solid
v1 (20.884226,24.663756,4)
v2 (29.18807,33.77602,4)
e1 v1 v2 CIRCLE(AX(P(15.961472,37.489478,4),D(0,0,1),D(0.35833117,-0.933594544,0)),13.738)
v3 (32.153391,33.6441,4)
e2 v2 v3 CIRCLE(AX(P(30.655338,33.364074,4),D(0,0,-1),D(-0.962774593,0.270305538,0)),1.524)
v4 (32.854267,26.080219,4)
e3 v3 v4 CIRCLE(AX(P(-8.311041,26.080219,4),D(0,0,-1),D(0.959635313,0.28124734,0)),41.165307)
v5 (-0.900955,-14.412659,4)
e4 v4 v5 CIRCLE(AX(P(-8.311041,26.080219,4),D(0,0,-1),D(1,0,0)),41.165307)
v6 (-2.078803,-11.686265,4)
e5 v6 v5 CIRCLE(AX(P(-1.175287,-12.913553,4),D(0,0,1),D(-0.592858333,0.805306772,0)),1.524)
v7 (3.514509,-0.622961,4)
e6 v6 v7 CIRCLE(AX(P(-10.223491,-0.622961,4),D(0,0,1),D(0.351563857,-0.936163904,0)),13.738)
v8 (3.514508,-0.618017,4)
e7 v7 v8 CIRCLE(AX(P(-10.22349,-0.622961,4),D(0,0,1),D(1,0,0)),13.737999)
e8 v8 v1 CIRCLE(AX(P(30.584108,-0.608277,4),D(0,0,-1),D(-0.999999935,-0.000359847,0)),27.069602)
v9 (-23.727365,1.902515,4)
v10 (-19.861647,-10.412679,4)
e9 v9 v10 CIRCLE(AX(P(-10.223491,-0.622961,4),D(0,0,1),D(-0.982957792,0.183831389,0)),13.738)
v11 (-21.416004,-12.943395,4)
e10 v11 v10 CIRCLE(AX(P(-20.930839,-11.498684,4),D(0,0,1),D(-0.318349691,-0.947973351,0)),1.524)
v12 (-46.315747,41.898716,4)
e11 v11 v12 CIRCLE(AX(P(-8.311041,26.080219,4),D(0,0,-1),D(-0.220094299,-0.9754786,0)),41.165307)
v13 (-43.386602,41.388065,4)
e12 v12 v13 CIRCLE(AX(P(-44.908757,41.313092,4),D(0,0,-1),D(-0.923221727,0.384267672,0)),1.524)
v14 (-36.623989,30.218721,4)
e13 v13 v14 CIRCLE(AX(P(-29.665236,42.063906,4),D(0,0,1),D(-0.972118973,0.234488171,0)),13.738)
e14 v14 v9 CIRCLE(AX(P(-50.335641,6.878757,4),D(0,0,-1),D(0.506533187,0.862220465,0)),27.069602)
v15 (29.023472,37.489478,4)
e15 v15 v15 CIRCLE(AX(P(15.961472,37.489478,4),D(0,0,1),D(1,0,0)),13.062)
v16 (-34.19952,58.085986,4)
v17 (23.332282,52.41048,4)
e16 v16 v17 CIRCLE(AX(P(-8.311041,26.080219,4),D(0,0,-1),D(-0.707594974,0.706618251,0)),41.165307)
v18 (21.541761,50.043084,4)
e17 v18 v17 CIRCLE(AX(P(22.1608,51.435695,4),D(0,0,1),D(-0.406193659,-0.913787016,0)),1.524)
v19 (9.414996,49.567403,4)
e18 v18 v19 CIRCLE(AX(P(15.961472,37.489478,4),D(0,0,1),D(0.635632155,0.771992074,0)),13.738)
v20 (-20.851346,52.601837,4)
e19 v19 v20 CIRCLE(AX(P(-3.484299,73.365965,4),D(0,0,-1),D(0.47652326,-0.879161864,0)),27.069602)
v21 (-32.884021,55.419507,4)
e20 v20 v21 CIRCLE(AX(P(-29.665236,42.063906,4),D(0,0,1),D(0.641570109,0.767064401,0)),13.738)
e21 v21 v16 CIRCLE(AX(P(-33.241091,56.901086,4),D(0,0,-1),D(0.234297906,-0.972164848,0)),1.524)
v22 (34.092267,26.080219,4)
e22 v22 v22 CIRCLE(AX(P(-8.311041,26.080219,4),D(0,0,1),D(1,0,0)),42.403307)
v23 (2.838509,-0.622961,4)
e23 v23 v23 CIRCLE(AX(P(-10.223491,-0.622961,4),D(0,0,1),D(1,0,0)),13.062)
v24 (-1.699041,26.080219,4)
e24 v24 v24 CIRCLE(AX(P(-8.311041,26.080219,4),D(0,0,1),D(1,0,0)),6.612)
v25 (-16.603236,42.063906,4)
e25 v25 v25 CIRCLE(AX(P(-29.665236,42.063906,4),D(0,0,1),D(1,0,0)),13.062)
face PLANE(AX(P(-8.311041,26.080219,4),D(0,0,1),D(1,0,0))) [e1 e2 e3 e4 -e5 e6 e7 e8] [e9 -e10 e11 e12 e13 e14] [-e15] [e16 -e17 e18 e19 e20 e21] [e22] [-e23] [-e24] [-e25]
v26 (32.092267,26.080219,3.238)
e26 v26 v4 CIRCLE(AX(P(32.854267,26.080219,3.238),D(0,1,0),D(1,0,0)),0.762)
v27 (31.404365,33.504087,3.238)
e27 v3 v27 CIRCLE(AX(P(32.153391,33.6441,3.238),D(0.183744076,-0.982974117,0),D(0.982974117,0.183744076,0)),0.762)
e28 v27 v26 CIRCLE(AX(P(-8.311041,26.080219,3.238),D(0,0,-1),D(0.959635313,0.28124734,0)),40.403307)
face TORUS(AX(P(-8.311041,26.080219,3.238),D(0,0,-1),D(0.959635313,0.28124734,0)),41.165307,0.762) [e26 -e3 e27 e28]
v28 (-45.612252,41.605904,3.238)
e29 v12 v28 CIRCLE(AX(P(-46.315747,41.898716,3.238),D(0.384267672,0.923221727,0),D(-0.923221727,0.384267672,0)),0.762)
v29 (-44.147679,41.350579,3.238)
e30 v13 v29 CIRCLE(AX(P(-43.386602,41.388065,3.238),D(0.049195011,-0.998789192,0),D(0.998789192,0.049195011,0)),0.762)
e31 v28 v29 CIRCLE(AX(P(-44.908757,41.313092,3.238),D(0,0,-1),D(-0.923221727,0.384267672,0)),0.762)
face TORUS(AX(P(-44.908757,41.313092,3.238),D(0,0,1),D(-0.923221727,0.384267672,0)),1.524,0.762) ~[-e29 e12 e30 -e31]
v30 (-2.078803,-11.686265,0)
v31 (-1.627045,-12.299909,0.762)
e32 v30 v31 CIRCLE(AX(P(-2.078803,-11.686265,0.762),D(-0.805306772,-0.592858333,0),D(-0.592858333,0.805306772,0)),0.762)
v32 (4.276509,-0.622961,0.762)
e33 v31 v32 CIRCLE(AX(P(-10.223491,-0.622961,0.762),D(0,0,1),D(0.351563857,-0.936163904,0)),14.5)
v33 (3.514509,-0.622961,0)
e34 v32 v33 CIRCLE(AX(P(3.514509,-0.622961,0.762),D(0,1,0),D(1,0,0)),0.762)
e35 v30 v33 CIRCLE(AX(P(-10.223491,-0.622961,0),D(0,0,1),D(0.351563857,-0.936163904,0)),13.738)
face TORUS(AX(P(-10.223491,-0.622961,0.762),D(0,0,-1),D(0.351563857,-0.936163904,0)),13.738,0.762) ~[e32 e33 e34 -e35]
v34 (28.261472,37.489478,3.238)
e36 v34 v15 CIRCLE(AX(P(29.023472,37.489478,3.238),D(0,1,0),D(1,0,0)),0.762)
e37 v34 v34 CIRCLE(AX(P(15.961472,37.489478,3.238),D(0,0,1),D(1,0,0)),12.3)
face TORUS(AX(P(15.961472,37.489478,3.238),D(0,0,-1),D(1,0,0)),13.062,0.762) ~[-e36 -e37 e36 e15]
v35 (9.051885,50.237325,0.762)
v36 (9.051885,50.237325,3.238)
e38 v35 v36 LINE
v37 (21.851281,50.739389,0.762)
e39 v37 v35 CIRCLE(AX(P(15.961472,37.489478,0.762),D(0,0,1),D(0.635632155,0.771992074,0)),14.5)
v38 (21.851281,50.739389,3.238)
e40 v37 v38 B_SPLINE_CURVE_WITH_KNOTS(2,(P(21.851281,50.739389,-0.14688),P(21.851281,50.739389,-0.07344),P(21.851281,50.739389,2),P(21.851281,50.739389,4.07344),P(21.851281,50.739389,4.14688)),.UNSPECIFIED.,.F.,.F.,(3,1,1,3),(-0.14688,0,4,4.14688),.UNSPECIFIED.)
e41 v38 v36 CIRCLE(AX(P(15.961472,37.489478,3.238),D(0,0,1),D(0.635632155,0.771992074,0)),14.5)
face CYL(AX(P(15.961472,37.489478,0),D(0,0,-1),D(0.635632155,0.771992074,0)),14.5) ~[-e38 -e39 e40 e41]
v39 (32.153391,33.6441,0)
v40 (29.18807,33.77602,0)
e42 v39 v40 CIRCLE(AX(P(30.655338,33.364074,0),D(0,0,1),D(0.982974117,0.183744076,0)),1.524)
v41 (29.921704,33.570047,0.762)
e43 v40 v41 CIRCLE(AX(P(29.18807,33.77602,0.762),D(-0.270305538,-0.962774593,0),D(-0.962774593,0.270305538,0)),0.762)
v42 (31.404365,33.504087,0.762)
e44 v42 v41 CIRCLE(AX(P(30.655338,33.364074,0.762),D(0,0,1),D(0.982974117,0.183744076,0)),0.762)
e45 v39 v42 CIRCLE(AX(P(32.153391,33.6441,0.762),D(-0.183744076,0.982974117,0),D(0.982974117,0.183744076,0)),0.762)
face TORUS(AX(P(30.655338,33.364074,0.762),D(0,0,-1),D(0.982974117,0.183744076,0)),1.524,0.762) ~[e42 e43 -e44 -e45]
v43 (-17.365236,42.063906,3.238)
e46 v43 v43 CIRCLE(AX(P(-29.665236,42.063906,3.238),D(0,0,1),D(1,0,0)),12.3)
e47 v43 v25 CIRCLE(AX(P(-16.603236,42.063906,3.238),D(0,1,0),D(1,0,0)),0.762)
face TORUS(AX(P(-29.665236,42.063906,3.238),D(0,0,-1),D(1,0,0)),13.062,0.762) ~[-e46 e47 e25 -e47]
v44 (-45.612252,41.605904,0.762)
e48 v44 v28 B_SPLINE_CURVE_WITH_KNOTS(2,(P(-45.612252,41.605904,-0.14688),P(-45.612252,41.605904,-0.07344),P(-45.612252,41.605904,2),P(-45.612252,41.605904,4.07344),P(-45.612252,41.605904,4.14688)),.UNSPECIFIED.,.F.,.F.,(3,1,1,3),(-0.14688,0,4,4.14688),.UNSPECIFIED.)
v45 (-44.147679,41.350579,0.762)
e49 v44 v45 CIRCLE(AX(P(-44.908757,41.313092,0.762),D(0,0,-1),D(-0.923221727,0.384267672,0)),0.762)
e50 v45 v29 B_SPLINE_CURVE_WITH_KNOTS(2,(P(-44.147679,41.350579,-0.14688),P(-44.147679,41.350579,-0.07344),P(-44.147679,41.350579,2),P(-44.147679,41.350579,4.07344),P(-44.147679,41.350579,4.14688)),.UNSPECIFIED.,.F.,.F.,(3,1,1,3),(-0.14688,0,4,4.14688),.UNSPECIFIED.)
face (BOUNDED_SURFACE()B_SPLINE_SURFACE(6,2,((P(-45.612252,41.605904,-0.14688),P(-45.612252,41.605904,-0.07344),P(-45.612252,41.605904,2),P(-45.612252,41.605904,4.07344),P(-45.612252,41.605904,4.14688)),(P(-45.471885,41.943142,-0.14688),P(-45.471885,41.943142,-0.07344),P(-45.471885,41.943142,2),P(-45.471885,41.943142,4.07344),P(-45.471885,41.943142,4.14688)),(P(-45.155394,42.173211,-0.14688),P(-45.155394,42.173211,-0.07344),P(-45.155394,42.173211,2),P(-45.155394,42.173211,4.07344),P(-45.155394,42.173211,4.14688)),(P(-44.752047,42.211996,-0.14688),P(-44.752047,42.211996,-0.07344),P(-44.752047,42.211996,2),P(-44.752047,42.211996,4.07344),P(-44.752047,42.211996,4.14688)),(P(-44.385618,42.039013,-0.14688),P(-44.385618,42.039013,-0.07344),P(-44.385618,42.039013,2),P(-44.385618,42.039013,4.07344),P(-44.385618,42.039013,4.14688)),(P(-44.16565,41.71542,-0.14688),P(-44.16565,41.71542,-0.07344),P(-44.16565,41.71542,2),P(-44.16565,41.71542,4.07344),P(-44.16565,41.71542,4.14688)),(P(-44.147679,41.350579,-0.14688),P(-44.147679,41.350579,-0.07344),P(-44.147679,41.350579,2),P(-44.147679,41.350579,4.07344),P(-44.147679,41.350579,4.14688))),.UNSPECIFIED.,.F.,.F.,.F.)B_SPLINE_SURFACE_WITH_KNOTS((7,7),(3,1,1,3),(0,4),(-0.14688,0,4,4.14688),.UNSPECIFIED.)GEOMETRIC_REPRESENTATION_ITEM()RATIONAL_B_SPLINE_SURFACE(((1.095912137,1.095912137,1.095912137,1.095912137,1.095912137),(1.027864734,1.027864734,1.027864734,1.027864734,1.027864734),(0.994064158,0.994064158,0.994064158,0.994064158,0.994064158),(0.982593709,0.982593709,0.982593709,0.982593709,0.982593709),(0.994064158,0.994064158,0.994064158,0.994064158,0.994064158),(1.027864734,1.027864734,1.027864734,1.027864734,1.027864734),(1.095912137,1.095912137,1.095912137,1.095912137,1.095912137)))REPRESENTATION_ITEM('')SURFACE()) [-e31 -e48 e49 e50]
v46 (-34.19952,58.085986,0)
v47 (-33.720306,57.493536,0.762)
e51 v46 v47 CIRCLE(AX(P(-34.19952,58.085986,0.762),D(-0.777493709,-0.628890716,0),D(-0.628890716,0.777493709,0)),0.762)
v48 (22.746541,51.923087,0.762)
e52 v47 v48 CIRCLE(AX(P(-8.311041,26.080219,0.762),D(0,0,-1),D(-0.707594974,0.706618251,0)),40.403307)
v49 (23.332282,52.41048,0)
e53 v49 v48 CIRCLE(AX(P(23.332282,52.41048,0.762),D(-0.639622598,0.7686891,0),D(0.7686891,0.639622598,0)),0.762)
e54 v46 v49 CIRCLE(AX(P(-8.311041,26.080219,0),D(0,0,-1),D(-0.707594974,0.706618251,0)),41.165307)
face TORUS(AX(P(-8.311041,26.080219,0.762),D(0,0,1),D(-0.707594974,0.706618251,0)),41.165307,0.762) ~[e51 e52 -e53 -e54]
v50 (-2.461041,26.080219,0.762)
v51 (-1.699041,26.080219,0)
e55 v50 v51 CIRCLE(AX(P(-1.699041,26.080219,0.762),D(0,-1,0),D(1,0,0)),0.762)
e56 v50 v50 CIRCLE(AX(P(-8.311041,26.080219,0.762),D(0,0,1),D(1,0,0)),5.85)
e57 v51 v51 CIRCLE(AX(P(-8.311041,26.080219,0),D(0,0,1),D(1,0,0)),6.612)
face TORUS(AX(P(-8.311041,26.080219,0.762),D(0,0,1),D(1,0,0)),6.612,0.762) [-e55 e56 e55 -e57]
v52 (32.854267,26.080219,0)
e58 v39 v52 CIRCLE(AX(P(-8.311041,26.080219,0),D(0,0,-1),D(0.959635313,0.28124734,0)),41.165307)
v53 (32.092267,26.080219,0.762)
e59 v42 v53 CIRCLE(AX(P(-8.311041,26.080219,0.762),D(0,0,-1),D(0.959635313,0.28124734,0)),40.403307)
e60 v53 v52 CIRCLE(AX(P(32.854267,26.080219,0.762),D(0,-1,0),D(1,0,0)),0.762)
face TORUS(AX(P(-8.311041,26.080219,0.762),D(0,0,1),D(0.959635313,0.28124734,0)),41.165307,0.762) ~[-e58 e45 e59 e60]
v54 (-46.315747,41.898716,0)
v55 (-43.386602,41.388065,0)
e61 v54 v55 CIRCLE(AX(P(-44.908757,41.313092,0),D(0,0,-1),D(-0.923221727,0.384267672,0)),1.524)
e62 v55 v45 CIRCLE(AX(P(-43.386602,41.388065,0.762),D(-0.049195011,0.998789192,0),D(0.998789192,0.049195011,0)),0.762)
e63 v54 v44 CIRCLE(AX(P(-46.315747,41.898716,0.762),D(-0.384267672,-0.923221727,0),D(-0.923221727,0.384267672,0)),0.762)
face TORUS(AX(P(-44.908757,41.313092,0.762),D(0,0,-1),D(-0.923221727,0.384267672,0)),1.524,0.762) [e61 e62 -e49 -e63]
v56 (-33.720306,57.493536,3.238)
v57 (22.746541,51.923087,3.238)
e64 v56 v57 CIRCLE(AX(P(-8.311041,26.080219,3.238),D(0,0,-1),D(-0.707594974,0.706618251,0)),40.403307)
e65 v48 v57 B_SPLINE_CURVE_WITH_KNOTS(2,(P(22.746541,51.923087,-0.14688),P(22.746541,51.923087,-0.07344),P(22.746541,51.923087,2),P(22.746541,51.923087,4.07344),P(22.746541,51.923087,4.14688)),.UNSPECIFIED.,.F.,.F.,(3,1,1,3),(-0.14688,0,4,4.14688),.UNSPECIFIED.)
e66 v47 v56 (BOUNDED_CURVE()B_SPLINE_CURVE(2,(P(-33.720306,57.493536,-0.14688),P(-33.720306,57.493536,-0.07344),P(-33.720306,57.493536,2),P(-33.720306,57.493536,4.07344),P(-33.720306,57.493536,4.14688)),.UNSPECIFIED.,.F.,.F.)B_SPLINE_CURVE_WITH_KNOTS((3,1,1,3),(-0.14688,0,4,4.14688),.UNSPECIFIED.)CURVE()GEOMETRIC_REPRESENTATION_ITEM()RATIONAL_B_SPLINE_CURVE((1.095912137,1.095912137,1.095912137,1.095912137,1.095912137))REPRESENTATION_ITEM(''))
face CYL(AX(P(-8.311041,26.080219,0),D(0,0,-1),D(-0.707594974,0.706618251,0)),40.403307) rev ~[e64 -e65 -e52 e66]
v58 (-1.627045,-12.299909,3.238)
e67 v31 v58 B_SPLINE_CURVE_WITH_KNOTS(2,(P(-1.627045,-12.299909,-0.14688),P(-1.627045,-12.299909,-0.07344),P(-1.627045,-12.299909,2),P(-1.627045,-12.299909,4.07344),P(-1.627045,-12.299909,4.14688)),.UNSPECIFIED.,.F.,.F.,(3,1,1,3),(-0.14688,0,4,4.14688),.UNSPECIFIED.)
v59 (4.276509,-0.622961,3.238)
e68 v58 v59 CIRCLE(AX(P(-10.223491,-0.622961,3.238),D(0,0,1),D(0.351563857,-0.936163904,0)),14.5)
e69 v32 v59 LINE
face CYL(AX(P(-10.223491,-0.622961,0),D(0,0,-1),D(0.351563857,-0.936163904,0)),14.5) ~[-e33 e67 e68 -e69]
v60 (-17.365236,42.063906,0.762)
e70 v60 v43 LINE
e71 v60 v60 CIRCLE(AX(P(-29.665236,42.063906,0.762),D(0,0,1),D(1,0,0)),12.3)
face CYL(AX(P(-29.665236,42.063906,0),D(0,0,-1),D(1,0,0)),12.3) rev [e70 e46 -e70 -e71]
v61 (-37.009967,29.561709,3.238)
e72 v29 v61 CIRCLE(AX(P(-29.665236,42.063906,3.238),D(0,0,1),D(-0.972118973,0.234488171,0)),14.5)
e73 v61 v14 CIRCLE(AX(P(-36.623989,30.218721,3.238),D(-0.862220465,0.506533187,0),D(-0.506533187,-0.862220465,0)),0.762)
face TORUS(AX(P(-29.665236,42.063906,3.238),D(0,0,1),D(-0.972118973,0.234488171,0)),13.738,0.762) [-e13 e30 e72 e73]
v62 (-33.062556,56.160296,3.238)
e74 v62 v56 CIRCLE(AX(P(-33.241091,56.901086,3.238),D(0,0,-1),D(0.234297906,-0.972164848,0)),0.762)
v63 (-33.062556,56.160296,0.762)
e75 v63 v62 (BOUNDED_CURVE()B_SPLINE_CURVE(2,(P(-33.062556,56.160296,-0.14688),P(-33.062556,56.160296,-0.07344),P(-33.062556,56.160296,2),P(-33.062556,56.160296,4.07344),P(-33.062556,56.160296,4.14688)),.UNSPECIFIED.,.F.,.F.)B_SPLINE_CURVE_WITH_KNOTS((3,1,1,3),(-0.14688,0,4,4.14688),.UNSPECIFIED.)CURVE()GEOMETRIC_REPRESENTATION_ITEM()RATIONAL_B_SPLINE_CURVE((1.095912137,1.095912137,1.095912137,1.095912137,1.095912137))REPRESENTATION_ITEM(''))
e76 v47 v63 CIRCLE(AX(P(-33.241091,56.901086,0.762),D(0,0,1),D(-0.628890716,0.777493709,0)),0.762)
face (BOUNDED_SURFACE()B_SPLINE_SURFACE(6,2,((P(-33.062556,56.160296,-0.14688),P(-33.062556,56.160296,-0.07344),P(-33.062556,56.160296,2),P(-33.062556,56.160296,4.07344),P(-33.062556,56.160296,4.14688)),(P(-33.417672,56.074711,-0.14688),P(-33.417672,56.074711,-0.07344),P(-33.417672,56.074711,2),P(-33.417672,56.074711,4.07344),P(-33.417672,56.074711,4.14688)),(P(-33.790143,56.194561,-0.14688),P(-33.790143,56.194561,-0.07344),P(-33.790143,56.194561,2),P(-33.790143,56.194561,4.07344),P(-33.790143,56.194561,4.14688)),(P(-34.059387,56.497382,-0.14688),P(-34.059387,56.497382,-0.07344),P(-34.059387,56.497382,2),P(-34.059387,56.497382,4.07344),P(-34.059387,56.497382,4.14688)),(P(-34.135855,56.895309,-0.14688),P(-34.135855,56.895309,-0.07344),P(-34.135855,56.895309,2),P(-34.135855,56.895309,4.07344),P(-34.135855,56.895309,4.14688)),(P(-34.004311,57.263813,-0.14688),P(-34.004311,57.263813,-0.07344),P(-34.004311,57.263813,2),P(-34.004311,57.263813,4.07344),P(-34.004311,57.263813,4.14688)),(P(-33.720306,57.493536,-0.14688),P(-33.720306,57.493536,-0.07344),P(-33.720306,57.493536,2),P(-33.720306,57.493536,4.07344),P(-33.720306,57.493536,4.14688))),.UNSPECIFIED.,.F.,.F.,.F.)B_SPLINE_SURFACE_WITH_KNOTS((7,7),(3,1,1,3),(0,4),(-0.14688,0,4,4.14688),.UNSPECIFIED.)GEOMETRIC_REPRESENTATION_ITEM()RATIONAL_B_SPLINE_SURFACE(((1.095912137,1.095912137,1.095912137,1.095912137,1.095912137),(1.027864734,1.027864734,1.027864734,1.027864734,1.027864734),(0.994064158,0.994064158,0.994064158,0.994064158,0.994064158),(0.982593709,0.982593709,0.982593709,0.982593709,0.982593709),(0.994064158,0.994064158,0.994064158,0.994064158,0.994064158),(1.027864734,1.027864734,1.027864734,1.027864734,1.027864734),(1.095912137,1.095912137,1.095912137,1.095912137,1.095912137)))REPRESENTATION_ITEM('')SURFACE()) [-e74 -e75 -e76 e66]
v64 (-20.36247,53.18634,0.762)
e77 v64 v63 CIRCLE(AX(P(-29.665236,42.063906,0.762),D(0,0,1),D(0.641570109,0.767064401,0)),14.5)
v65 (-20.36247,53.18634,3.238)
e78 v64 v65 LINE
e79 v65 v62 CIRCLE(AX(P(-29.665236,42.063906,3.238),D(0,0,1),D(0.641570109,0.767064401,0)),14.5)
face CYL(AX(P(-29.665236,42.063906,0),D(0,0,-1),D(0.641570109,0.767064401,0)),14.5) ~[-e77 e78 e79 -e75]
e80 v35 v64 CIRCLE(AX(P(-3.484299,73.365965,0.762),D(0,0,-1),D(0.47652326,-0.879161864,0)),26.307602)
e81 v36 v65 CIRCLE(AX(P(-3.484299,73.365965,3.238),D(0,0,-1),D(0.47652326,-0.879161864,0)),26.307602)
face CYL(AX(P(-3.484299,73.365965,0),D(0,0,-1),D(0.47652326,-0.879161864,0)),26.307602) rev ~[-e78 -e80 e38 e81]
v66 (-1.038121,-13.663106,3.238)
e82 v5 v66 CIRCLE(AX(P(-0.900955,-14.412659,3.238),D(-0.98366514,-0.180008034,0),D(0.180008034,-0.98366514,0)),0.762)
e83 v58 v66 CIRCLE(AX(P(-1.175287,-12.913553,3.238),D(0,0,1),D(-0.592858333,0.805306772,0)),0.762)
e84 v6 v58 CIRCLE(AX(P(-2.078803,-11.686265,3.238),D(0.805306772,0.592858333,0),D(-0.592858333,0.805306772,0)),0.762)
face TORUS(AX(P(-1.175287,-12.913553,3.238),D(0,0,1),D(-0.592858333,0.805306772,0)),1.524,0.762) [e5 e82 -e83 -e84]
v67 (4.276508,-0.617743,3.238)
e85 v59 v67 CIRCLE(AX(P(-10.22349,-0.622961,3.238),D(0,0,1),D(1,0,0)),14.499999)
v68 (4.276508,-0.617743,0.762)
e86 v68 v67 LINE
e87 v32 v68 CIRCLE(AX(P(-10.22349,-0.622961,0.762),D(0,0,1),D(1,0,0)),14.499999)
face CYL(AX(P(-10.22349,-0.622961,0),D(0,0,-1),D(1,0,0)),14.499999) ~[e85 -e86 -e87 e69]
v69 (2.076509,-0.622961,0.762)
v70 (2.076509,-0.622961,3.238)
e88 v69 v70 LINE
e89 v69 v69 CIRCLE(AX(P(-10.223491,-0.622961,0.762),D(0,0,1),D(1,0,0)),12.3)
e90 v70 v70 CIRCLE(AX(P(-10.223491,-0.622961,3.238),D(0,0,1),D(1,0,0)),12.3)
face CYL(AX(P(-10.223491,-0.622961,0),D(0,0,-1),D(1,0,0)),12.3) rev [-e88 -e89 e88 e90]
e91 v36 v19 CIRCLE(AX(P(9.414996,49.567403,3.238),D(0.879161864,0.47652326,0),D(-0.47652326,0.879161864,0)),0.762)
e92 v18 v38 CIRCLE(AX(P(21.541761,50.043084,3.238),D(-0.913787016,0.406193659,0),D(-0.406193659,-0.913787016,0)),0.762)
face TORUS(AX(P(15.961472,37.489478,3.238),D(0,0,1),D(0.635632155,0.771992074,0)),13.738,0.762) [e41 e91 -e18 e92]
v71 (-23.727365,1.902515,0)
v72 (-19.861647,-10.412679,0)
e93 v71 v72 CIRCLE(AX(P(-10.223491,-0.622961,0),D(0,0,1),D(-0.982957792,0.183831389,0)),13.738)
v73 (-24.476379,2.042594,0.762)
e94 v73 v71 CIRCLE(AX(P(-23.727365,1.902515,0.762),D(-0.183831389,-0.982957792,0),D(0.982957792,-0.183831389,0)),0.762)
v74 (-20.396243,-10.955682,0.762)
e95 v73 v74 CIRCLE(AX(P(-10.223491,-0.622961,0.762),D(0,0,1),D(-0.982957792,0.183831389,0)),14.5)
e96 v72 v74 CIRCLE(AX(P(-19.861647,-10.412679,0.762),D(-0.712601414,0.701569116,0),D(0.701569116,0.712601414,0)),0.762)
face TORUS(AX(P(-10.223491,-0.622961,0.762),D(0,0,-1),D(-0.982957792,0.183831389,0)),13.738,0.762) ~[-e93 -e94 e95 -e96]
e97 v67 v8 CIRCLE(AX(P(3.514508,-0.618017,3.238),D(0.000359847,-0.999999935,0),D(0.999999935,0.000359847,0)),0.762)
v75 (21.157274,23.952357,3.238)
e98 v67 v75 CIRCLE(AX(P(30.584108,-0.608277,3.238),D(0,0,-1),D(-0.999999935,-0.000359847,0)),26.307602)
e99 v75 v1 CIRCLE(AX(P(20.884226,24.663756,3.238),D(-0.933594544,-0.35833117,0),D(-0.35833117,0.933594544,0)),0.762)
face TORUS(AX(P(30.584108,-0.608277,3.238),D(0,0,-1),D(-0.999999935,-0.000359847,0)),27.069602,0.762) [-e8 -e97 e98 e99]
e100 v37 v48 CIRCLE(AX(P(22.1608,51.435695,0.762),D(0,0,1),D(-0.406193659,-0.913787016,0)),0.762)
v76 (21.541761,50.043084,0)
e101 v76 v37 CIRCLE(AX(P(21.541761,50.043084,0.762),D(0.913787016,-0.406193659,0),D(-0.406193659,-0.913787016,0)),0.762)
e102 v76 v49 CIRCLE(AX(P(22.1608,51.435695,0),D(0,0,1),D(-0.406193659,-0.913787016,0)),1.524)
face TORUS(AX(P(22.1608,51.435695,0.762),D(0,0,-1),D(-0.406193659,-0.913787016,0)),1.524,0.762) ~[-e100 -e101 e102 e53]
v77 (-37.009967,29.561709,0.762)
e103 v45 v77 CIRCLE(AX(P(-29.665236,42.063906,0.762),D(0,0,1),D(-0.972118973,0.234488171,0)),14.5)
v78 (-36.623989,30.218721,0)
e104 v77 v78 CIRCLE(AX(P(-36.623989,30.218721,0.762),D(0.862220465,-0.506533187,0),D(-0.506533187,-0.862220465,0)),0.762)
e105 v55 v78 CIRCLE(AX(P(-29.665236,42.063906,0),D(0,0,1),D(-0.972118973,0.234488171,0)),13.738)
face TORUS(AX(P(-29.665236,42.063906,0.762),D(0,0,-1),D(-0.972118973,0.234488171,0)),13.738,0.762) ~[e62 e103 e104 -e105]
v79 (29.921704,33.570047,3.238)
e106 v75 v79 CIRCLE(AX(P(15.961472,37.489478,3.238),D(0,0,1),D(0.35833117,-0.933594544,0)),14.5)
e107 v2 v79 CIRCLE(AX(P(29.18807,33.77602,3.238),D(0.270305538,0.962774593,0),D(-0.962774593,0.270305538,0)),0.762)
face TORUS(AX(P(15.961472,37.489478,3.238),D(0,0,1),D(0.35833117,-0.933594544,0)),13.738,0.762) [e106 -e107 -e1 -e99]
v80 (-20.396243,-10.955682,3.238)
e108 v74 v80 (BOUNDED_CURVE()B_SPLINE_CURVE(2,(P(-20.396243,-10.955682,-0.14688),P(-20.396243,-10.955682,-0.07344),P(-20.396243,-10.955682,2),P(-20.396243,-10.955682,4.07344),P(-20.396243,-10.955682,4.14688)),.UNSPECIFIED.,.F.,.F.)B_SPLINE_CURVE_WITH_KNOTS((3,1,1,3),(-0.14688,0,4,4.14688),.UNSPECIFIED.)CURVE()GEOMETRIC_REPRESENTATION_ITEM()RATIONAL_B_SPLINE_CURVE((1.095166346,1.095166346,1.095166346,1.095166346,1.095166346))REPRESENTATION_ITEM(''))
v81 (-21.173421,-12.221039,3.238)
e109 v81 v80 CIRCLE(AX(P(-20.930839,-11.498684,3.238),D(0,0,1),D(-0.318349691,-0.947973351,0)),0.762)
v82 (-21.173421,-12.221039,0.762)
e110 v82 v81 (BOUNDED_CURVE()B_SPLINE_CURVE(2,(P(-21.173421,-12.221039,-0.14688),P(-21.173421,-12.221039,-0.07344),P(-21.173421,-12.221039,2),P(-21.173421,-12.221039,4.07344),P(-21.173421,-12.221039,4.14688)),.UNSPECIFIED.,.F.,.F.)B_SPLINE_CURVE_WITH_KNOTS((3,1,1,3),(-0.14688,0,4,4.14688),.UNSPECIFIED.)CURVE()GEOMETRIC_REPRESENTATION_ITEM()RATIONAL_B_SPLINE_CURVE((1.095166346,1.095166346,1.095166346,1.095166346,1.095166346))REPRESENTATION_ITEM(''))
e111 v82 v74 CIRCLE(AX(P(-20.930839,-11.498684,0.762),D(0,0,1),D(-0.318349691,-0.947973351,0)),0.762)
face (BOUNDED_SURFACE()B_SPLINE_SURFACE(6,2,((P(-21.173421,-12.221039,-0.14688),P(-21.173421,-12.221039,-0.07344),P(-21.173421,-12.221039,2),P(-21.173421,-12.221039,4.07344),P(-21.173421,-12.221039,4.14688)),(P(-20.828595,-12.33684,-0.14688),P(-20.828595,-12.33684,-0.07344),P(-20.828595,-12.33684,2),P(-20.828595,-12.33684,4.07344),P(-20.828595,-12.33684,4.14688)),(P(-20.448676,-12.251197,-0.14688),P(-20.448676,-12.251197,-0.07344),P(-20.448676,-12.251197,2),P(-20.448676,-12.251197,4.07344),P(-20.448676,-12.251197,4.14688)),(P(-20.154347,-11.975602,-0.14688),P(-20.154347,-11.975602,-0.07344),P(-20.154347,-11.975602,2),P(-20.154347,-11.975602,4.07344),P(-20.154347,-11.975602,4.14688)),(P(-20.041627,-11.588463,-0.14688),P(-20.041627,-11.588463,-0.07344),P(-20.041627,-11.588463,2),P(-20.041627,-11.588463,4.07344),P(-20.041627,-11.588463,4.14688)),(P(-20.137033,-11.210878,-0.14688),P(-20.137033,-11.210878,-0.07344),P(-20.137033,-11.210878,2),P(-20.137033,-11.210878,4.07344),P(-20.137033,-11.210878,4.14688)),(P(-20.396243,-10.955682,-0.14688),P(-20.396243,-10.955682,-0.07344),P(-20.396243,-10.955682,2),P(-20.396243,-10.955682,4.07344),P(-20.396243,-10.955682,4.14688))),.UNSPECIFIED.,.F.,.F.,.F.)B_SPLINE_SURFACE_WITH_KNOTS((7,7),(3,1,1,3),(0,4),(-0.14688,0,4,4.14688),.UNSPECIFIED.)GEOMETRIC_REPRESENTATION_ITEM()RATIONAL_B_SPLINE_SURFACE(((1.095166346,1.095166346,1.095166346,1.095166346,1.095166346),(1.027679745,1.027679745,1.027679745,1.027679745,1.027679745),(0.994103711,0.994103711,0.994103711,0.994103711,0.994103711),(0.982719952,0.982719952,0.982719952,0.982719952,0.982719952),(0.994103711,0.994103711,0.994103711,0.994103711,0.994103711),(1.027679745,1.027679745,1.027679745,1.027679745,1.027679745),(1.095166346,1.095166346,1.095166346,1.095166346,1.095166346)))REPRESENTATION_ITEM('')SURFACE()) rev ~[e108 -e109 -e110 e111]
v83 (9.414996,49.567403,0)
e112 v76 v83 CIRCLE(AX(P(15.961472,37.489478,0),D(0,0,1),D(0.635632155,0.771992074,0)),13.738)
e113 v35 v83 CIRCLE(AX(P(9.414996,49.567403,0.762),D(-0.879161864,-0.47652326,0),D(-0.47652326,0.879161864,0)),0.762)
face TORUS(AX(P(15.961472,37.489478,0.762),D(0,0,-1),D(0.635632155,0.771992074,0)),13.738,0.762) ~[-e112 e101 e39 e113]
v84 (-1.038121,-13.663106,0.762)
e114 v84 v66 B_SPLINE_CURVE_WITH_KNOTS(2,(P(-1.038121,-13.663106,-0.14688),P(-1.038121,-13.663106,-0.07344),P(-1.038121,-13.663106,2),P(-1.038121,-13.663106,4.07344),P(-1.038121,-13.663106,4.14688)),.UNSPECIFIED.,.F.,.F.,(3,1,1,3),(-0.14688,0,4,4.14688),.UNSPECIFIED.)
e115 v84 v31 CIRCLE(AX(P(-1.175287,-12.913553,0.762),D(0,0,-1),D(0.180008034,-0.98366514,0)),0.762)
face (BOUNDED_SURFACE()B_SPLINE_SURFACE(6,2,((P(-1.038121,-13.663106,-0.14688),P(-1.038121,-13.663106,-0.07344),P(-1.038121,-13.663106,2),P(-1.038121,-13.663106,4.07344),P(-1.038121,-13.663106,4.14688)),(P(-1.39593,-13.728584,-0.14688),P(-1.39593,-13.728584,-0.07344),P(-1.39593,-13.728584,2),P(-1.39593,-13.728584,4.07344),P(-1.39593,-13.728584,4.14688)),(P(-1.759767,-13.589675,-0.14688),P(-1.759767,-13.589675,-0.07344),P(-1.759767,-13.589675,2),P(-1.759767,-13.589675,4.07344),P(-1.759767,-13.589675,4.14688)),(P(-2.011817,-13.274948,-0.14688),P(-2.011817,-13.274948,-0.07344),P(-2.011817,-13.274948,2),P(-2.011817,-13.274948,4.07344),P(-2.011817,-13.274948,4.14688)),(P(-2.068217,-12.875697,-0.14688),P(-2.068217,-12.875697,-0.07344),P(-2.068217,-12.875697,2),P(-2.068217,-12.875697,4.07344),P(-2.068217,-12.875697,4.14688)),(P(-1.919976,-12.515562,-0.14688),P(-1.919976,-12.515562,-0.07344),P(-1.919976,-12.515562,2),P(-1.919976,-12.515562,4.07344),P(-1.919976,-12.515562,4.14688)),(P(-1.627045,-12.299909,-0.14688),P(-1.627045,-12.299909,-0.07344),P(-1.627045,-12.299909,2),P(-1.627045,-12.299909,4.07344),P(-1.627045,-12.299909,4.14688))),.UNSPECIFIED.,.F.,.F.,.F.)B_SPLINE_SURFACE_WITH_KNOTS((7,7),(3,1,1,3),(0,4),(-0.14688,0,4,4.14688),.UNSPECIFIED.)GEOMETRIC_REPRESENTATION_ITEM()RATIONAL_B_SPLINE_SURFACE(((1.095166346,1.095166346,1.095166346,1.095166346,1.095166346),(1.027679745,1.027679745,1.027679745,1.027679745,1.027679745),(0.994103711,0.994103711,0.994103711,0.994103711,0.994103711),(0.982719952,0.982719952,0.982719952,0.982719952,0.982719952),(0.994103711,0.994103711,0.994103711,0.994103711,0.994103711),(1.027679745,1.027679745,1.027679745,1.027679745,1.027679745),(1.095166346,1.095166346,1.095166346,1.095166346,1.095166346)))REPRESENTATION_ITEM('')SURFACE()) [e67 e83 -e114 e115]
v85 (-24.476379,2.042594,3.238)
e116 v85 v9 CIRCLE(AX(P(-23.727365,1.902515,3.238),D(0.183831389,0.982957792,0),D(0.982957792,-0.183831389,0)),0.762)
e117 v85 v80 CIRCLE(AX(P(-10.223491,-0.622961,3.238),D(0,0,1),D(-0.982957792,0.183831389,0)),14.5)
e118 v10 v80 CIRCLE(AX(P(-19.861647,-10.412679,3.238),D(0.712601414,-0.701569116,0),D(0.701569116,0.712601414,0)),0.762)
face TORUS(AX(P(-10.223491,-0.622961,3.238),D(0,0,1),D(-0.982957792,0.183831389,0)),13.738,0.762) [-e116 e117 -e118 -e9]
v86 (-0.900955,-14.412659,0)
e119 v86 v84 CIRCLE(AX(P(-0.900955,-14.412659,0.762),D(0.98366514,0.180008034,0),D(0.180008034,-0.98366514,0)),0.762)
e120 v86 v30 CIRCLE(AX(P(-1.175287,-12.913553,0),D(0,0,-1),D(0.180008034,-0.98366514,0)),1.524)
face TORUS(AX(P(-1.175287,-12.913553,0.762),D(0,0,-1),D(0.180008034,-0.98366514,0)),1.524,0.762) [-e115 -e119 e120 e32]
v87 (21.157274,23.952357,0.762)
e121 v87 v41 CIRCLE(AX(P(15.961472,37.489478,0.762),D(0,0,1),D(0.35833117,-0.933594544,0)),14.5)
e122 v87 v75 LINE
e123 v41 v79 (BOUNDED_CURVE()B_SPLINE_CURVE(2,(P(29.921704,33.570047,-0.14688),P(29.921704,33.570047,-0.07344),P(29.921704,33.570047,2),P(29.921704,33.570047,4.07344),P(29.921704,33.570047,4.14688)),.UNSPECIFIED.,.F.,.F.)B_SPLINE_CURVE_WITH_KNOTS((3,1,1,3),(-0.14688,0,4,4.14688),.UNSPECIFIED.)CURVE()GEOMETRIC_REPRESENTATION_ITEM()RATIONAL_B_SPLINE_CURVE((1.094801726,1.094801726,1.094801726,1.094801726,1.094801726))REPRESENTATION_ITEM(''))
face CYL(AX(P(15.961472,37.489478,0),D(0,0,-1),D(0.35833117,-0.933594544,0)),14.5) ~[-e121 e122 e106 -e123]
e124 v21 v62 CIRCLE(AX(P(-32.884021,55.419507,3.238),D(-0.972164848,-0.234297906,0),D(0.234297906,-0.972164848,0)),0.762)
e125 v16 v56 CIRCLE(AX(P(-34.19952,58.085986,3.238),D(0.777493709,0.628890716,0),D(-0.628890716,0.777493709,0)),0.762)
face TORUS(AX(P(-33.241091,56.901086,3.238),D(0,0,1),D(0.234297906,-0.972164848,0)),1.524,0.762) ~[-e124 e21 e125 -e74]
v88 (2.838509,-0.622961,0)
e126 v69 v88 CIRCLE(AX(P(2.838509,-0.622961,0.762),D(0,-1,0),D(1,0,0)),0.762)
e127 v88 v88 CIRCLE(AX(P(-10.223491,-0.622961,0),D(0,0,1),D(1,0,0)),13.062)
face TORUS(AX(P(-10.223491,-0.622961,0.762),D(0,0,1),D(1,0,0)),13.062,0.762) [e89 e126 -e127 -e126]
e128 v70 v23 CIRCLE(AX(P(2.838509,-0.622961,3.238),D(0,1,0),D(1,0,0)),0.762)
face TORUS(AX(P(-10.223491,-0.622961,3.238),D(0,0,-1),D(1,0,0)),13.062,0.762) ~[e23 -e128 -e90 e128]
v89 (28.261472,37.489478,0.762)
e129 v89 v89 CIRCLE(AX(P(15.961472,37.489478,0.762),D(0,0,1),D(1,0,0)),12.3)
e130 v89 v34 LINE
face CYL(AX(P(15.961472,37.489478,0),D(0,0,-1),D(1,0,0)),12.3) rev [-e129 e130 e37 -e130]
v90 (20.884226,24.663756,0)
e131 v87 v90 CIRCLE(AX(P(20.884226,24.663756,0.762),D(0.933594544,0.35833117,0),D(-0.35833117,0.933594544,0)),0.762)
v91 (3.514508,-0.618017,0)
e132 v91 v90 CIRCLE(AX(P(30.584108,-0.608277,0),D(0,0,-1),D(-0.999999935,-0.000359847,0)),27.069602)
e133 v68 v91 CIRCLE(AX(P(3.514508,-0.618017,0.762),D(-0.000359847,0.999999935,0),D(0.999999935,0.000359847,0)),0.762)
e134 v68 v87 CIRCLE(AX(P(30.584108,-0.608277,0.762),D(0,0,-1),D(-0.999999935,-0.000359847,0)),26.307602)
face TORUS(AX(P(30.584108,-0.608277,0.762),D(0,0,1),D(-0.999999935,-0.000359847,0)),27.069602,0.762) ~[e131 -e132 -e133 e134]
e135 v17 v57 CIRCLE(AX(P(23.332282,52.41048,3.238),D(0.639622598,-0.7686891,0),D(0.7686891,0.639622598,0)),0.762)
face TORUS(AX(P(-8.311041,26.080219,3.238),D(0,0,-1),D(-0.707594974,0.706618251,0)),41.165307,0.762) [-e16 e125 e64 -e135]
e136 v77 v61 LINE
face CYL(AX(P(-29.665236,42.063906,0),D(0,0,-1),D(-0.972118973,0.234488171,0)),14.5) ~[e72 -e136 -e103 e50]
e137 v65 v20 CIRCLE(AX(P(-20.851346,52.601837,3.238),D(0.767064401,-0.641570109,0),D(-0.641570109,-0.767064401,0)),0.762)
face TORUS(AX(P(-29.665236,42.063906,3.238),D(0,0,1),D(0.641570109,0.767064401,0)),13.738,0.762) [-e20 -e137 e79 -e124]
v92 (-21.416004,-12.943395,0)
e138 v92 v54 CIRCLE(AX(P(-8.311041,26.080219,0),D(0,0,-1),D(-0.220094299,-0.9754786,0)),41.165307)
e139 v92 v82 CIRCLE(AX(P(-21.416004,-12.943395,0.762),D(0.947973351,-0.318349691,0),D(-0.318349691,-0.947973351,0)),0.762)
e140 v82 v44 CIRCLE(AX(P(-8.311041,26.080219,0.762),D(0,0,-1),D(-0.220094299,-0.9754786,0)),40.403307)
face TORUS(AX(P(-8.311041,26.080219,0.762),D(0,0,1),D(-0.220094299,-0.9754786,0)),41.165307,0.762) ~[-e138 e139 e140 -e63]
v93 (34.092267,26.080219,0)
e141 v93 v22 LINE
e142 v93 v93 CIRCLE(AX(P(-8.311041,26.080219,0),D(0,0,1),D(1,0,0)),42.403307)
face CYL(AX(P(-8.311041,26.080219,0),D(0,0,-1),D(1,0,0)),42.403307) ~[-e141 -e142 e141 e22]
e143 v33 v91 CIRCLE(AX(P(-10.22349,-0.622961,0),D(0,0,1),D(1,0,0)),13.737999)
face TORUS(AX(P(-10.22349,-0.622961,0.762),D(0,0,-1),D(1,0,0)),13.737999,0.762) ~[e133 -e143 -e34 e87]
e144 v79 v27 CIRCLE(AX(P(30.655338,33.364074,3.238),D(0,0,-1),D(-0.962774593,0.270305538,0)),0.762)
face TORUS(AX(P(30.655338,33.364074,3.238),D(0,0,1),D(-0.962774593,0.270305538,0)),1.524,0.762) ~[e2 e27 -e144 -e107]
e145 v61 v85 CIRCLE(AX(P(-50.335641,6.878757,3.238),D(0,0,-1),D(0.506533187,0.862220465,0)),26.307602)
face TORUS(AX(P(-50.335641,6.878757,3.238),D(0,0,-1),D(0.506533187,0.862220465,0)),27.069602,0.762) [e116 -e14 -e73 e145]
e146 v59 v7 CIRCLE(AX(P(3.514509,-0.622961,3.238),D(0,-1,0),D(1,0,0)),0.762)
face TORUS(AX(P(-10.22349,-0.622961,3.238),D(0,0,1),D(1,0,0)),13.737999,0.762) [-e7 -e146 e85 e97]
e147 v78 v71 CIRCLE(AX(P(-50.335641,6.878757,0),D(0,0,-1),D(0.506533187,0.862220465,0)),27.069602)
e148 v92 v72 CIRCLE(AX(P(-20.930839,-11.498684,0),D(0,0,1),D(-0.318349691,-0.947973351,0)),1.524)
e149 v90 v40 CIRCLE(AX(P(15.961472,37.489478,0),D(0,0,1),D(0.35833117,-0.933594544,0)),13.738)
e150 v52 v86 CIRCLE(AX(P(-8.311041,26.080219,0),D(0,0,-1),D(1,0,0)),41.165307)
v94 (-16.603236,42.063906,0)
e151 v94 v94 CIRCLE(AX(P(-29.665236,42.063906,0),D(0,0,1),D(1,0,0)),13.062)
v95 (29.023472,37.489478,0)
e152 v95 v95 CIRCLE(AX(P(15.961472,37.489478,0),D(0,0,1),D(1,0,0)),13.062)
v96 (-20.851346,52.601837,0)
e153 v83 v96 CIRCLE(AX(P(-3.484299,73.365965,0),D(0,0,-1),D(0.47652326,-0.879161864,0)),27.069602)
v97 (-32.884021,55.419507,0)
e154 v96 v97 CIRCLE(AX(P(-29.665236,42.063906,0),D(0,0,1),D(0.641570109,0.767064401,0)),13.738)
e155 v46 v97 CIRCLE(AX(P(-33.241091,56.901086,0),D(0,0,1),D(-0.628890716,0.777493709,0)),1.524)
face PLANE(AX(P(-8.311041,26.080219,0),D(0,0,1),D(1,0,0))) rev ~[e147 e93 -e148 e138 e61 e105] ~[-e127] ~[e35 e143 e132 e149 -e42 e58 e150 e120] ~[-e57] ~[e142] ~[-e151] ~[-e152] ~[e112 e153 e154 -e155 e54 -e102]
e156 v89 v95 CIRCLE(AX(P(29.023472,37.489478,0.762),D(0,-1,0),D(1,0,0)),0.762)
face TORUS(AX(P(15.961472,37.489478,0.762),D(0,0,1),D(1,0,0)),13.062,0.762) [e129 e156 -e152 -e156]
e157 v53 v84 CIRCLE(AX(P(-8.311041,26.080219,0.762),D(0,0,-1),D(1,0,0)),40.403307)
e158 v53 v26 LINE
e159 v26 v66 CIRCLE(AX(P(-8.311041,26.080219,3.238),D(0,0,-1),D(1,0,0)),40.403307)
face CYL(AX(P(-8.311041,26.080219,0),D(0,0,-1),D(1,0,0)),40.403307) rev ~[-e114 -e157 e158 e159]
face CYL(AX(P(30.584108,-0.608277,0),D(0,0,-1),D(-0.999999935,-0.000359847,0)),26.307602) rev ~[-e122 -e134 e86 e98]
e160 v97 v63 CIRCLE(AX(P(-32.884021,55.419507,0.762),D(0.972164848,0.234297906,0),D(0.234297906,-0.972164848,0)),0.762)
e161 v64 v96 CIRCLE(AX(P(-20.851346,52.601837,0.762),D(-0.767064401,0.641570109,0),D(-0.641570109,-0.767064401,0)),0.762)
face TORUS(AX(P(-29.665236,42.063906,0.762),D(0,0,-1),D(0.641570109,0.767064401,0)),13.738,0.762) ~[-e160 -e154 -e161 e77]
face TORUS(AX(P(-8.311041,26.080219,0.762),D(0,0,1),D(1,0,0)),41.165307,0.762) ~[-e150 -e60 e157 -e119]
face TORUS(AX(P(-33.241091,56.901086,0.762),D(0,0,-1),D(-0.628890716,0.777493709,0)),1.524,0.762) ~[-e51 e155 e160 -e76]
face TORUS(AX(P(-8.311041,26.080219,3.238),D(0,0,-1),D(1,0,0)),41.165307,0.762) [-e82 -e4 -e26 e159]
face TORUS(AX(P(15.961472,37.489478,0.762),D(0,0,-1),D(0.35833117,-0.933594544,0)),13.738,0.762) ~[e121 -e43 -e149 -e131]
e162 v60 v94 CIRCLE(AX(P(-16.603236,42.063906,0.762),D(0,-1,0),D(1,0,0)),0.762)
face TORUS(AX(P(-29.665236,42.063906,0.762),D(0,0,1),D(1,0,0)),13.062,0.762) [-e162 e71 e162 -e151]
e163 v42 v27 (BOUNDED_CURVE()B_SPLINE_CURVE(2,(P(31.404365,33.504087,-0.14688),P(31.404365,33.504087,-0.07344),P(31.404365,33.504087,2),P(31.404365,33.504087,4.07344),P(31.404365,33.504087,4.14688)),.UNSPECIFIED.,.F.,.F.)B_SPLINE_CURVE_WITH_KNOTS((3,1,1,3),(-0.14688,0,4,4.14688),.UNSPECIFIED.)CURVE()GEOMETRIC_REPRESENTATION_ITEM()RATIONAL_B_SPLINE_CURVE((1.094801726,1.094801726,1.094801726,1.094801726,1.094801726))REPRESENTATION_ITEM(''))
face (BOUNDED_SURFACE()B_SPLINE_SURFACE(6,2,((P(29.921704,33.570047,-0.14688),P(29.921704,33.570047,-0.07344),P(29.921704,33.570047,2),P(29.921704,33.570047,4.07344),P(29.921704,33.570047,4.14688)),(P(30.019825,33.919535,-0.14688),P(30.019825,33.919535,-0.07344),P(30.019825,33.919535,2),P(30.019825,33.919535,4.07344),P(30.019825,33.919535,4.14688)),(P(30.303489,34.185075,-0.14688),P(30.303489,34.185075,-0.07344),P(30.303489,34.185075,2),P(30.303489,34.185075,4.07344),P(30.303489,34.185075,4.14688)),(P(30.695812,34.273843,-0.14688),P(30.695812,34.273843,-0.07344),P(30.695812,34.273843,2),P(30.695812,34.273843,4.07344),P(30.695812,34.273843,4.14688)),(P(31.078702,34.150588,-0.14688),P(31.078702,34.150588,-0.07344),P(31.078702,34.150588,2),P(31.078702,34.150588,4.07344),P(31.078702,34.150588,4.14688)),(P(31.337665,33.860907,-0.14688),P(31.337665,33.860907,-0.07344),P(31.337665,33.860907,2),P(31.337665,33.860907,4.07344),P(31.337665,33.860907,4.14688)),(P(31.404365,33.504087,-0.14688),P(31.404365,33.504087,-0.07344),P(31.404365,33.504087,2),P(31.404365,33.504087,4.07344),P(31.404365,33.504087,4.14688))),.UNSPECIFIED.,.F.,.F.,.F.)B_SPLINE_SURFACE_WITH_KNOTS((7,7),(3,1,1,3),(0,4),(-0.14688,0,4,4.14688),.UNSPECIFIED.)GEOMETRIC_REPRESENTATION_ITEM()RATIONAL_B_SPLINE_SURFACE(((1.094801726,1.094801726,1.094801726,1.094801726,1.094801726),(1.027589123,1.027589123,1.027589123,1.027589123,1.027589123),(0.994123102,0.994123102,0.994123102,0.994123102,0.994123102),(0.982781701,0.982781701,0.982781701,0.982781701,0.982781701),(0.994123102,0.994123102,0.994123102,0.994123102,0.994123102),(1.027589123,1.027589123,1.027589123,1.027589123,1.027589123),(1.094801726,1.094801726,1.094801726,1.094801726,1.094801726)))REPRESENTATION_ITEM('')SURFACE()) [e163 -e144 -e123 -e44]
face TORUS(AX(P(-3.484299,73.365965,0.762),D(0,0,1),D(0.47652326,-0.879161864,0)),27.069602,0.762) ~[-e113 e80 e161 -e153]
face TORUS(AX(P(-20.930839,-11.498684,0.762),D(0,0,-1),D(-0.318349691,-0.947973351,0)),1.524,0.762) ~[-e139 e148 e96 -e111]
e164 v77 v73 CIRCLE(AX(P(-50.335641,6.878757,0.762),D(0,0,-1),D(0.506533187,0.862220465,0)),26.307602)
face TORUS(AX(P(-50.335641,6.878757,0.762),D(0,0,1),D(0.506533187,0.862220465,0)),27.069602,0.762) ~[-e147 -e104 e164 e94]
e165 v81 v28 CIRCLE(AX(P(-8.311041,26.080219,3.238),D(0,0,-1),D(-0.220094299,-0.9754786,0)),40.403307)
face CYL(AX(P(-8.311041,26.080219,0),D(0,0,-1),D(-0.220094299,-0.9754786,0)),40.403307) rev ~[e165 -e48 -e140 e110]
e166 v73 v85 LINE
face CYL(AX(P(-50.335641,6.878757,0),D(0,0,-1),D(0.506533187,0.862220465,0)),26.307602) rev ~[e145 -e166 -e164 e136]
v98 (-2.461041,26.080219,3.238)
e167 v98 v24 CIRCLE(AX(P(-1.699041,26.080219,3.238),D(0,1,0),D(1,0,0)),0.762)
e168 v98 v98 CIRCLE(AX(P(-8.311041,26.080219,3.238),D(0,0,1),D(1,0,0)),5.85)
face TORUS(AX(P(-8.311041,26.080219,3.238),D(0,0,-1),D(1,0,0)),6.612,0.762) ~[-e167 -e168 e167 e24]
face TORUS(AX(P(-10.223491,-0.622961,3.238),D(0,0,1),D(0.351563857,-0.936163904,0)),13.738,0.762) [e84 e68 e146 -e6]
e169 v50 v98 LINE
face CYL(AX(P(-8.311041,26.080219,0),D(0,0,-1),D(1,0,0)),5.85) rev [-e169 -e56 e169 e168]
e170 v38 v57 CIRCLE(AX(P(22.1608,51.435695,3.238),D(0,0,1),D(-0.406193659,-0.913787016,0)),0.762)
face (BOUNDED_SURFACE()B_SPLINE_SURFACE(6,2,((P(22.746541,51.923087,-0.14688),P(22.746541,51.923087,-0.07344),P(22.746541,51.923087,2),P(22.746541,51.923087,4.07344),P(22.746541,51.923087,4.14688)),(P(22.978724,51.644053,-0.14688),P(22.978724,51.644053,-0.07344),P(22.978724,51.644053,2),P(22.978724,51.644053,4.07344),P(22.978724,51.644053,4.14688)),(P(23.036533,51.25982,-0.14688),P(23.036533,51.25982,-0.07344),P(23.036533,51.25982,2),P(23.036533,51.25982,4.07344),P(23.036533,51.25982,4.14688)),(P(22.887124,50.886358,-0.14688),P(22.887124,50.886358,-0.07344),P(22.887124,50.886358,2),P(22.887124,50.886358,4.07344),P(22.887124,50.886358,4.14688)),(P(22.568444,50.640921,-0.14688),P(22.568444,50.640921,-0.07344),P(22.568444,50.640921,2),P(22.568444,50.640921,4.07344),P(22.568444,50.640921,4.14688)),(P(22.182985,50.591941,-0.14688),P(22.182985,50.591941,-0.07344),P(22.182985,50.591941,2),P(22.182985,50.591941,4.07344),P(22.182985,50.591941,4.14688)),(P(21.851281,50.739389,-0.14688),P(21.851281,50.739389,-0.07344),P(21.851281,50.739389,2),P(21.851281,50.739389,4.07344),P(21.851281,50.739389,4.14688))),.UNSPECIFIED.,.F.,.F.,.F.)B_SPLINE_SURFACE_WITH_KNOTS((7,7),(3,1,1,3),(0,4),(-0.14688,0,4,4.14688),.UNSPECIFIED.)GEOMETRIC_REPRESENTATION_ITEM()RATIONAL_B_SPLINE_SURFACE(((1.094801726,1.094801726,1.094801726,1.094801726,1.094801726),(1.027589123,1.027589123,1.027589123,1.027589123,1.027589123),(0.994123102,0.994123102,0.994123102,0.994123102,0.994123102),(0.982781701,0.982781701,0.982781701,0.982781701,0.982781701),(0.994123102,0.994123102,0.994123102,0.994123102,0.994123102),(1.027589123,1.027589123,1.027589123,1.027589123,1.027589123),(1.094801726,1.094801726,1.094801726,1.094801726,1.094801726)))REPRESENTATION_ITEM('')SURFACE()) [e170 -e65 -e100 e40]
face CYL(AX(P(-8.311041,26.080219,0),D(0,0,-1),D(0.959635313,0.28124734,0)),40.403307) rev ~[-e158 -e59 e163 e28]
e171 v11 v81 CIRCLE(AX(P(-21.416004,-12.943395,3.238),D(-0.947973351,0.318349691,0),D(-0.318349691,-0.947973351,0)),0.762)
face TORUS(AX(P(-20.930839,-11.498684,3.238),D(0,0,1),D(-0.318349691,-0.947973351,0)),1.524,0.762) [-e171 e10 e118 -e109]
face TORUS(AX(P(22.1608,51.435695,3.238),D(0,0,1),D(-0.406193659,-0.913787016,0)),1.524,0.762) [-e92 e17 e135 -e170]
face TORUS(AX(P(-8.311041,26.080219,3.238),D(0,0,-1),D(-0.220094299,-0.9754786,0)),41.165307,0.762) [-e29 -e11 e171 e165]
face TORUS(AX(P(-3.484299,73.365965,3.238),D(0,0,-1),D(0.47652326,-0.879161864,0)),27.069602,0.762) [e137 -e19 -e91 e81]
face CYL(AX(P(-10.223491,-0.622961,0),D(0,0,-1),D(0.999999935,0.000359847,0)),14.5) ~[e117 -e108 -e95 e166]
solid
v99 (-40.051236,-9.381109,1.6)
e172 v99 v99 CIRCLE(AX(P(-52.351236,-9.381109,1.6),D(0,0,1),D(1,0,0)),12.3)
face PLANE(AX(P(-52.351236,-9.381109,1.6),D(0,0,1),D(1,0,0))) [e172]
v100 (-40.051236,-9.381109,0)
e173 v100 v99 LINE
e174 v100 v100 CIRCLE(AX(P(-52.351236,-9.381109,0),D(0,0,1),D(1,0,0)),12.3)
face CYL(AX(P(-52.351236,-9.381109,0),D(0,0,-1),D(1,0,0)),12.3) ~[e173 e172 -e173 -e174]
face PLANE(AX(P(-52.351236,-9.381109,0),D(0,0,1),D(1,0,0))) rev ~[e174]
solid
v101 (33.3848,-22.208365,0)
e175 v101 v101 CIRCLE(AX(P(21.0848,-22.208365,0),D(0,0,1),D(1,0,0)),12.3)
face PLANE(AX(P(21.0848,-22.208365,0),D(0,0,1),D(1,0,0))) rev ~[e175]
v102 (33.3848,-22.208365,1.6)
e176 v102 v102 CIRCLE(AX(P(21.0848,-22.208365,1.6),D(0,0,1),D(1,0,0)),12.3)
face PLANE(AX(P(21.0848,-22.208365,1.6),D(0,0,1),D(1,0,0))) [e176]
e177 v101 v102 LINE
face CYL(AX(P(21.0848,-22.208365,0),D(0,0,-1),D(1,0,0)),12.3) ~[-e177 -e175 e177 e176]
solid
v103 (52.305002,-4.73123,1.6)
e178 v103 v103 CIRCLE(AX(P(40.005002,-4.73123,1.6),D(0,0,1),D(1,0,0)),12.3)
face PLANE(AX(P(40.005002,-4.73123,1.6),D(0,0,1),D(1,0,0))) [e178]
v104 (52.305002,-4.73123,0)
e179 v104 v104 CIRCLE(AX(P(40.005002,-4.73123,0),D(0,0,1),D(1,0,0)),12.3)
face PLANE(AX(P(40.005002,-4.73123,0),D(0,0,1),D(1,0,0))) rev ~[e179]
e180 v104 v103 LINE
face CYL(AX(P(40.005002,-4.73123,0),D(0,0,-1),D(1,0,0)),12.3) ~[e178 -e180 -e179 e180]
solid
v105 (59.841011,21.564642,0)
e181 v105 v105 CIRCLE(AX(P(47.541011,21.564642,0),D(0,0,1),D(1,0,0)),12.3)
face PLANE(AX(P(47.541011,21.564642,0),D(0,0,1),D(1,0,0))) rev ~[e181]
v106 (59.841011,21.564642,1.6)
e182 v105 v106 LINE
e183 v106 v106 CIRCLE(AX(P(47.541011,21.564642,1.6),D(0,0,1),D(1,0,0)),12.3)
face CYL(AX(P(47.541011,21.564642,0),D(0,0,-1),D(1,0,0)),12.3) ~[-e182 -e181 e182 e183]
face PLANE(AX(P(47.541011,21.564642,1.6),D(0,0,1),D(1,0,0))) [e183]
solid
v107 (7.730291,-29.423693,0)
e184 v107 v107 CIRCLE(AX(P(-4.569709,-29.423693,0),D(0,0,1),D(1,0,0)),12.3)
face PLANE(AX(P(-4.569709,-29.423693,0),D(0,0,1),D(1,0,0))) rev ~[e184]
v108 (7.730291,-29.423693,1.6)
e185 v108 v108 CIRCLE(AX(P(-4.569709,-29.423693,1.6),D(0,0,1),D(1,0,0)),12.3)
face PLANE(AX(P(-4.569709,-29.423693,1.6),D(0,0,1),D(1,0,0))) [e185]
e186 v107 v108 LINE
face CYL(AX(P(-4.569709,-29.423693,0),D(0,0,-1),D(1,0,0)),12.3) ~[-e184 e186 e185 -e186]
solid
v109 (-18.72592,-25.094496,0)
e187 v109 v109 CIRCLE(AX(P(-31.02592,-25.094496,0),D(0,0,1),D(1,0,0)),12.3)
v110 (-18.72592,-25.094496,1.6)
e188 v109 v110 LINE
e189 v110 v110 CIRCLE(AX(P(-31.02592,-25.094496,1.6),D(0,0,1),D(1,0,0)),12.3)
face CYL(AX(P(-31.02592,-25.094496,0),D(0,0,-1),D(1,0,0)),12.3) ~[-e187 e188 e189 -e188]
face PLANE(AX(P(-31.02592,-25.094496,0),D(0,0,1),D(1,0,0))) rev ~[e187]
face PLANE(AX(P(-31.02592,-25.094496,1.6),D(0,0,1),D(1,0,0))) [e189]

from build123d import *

# Parameters (mm, degrees)
F0_R     = 42.4033072662
F0_R_2   = 5.85
F0_R_3   = 12.3
F1_DEPTH = 4
F2_R     = 0.762
F3_R     = 12.3
F4_DEPTH = 1.6


with BuildPart() as f1:
    # F0 (on Top) → F1 (new body)
    with BuildSketch(Plane.XY):
        with Locations((-8.3110406995, 26.0802190751)):
            Circle(F0_R)
        with BuildLine():
            ThreePointArc((32.0922665668, 26.0802190751), (21.3631980985, -1.3399703811), (-5.1258148571, -14.1973376331))
            ThreePointArc((-5.1258148571, -14.1973376331), (-11.2593104887, -15.085916383), (-17.2035782861, -13.3323425433))
            ThreePointArc((-17.2035782861, -13.3323425433), (-45.1324396721, 9.4485680521), (-43.7609612929, 45.4639846528))
            ThreePointArc((-43.7609612929, 45.4639846528), (-41.2735701298, 50.7527831403), (-36.9002178526, 54.6299333951))
            ThreePointArc((-36.9002178526, 54.6299333951), (-4.4583881721, 66.2994222814), (25.1781387293, 48.6833626449))
            ThreePointArc((25.1781387293, 48.6833626449), (29.074284162, 43.6785138124), (30.4614724748, 37.4894775663))
            ThreePointArc((30.4614724748, 37.4894775663), (30.4614542842, 37.4665096366), (30.4613997126, 37.4435417644))
            ThreePointArc((30.4613997126, 37.4435417644), (31.6824716587, 31.8200977593), (32.0922665668, 26.0802190751))
        make_face(mode=Mode.SUBTRACT)
        with BuildLine():
            ThreePointArc((-24.4763787641, 2.0425941068), (-8.8875960681, 13.8153693896), (4.2765082786, -0.6177432531))
            ThreePointArc((4.2765082786, -0.6177432531), (8.9009375112, 14.2890390154), (21.1572744451, 23.9523566802))
            ThreePointArc((21.1572744451, 23.9523566802), (2.7910833564, 31.4239313857), (9.0518852052, 50.237324591))
            ThreePointArc((9.0518852052, 50.237324591), (-6.1086816413, 47.1895914015), (-20.3624696012, 53.1863399784))
            ThreePointArc((-20.3624696012, 53.1863399784), (-16.5286438674, 48.202305166), (-15.1652361858, 42.0639061677))
            ThreePointArc((-15.1652361858, 42.0639061677), (-22.4627575382, 29.4792209777), (-37.009967404, 29.5617094275))
            ThreePointArc((-37.009967404, 29.5617094275), (-26.3942494554, 17.7828702296), (-24.4763787641, 2.0425941068))
        make_face()
        with Locations((-8.3110406995, 26.0802190751)):
            Circle(F0_R_2, mode=Mode.SUBTRACT)
        with BuildLine():
            ThreePointArc((-43.7609612929, 45.4639846528), (-43.0122913364, 36.3976800158), (-37.009967404, 29.5617094275))
            ThreePointArc((-37.009967404, 29.5617094275), (-22.4627575382, 29.4792209777), (-15.1652361858, 42.0639061677))
            ThreePointArc((-15.1652361858, 42.0639061677), (-16.5286438674, 48.202305166), (-20.3624696012, 53.1863399784))
            ThreePointArc((-20.3624696012, 53.1863399784), (-28.4043142593, 56.5089771573), (-36.9002178526, 54.6299333951))
            ThreePointArc((-36.9002178526, 54.6299333951), (-40.6569085057, 50.291209842), (-43.7609612929, 45.4639846528))
        make_face()
        with Locations((-29.6652361858, 42.0639061677)):
            Circle(F0_R_3, mode=Mode.SUBTRACT)
        with BuildLine():
            ThreePointArc((-5.1258148571, -14.1973376331), (1.6963729104, -8.8792828226), (4.2765092174, -0.6229610302))
            ThreePointArc((4.2765092174, -0.6229610302), (4.2765089827, -0.6203521416), (4.2765082786, -0.6177432531))
            ThreePointArc((4.2765082786, -0.6177432531), (-8.8875960681, 13.8153693896), (-24.4763787641, 2.0425941068))
            ThreePointArc((-24.4763787641, 2.0425941068), (-23.3310069941, -6.8232044744), (-17.2035782861, -13.3323425433))
            ThreePointArc((-17.2035782861, -13.3323425433), (-11.1972849654, -14.2198656902), (-5.1258148571, -14.1973376331))
        make_face()
        with Locations((-10.2234907826, -0.6229610302)):
            Circle(F0_R_3, mode=Mode.SUBTRACT)
        with BuildLine():
            ThreePointArc((9.0518852052, 50.237324591), (2.7910833564, 31.4239313857), (21.1572744451, 23.9523566802))
            ThreePointArc((21.1572744451, 23.9523566802), (27.8981158892, 29.2574338349), (30.4613997126, 37.4435417644))
            ThreePointArc((30.4613997126, 37.4435417644), (28.2542272315, 43.2676685423), (25.1781387293, 48.6833626449))
            ThreePointArc((25.1781387293, 48.6833626449), (17.3522825959, 51.9226216177), (9.0518852052, 50.237324591))
        make_face()
        with Locations((15.9614724748, 37.4894775663)):
            Circle(F0_R_3, mode=Mode.SUBTRACT)
        with BuildLine():
            ThreePointArc((25.1781387293, 48.6833626449), (28.2542272315, 43.2676685423), (30.4613997126, 37.4435417644))
            ThreePointArc((30.4613997126, 37.4435417644), (30.4614542842, 37.4665096366), (30.4614724748, 37.4894775663))
            ThreePointArc((30.4614724748, 37.4894775663), (29.074284162, 43.6785138124), (25.1781387293, 48.6833626449))
        make_face()
        with BuildLine():
            ThreePointArc((-17.2035782861, -13.3323425433), (-11.2593104887, -15.085916383), (-5.1258148571, -14.1973376331))
            ThreePointArc((-5.1258148571, -14.1973376331), (-11.1972849654, -14.2198656902), (-17.2035782861, -13.3323425433))
        make_face()
        with BuildLine():
            ThreePointArc((-36.9002178526, 54.6299333951), (-41.2735701298, 50.7527831403), (-43.7609612929, 45.4639846528))
            ThreePointArc((-43.7609612929, 45.4639846528), (-40.6569085057, 50.291209842), (-36.9002178526, 54.6299333951))
        make_face()
    extrude(amount=F1_DEPTH)

    # F2
    f2_edges = [f1.edges().sort_by_distance(p)[0] for p in [
        (-2.461041, 26.080219, 2),
        (-14.161041, 26.080219, 0),
        (-14.161041, 26.080219, 4),
        (-17.203578, -13.332343, 2),
        (-43.760961, 45.463985, 2),
        (-45.13244, 9.448568, 0),
        (-45.13244, 9.448568, 4),
        (-6.108682, 47.189591, 0),
        (-6.108682, 47.189591, 4),
        (-4.458388, 66.299422, 4),
        (8.900938, 14.289039, 4),
        (24.957661, 3.1538, 0),
        (24.957661, 3.1538, 4),
        (27.898116, 29.257434, 4),
        (21.157274, 23.952357, 2),
        (-43.012291, 36.39768, 0),
        (9.051885, 50.237325, 2),
        (-23.331007, -6.823204, 0),
        (-24.476379, 2.042594, 2),
        (3.661472, 37.489478, 0),
        (17.352283, 51.922622, 4),
        (27.898116, 29.257434, 0),
        (1.697858, -8.877138, 4),
        (-22.523491, -0.622961, 0),
        (-22.523491, -0.622961, 4),
        (-36.900218, 54.629933, 2),
        (-28.404314, 56.508977, 0),
        (-41.965236, 42.063906, 0),
        (-41.965236, 42.063906, 4),
        (-43.012291, 36.39768, 4),
        (-4.458388, 66.299422, 0),
        (-37.009967, 29.561709, 2),
        (1.697858, -8.877138, 0),
        (-26.394249, 17.78287, 4),
        (17.352283, 51.922622, 0),
        (30.4614, 37.443542, 2),
        (-28.404314, 56.508977, 4),
        (-26.394249, 17.78287, 0),
        (3.661472, 37.489478, 4),
        (8.900938, 14.289039, 0),
        (-23.331007, -6.823204, 4),
        (25.178139, 48.683363, 2),
        (-5.125815, -14.197338, 2),
        (4.276508, -0.617743, 2),
        (-20.36247, 53.18634, 2),
    ]]
    fillet(f2_edges, radius=F2_R)


with BuildPart() as f4:
    # F3 (on Top) → F4 (new body)
    with BuildSketch(Plane.XY):
        with Locations((-4.569709301, -29.423693195)):
            Circle(F3_R)
    extrude(amount=F4_DEPTH)


with BuildPart() as f4b:
    # F3 (on Top) → F4, piece 2 (new body)
    with BuildSketch(Plane.XY):
        with Locations((21.0848003626, -22.2083646804)):
            Circle(F3_R)
    extrude(amount=F4_DEPTH)


with BuildPart() as f4c:
    # F3 (on Top) → F4, piece 3 (new body)
    with BuildSketch(Plane.XY):
        with Locations((40.0050021708, -4.7312295064)):
            Circle(F3_R)
    extrude(amount=F4_DEPTH)


with BuildPart() as f4d:
    # F3 (on Top) → F4, piece 4 (new body)
    with BuildSketch(Plane.XY):
        with Locations((-52.3512363434, -9.3811089173)):
            Circle(F3_R)
    extrude(amount=F4_DEPTH)


with BuildPart() as f4e:
    # F3 (on Top) → F4, piece 5 (new body)
    with BuildSketch(Plane.XY):
        with Locations((-31.0259200633, -25.0944960862)):
            Circle(F3_R)
    extrude(amount=F4_DEPTH)


with BuildPart() as f4f:
    # F3 (on Top) → F4, piece 6 (new body)
    with BuildSketch(Plane.XY):
        with Locations((47.5410111248, 21.5646419674)):
            Circle(F3_R)
    extrude(amount=F4_DEPTH)


solid = Compound([f1.part, f4.part, f4b.part, f4c.part, f4d.part, f4e.part, f4f.part])
